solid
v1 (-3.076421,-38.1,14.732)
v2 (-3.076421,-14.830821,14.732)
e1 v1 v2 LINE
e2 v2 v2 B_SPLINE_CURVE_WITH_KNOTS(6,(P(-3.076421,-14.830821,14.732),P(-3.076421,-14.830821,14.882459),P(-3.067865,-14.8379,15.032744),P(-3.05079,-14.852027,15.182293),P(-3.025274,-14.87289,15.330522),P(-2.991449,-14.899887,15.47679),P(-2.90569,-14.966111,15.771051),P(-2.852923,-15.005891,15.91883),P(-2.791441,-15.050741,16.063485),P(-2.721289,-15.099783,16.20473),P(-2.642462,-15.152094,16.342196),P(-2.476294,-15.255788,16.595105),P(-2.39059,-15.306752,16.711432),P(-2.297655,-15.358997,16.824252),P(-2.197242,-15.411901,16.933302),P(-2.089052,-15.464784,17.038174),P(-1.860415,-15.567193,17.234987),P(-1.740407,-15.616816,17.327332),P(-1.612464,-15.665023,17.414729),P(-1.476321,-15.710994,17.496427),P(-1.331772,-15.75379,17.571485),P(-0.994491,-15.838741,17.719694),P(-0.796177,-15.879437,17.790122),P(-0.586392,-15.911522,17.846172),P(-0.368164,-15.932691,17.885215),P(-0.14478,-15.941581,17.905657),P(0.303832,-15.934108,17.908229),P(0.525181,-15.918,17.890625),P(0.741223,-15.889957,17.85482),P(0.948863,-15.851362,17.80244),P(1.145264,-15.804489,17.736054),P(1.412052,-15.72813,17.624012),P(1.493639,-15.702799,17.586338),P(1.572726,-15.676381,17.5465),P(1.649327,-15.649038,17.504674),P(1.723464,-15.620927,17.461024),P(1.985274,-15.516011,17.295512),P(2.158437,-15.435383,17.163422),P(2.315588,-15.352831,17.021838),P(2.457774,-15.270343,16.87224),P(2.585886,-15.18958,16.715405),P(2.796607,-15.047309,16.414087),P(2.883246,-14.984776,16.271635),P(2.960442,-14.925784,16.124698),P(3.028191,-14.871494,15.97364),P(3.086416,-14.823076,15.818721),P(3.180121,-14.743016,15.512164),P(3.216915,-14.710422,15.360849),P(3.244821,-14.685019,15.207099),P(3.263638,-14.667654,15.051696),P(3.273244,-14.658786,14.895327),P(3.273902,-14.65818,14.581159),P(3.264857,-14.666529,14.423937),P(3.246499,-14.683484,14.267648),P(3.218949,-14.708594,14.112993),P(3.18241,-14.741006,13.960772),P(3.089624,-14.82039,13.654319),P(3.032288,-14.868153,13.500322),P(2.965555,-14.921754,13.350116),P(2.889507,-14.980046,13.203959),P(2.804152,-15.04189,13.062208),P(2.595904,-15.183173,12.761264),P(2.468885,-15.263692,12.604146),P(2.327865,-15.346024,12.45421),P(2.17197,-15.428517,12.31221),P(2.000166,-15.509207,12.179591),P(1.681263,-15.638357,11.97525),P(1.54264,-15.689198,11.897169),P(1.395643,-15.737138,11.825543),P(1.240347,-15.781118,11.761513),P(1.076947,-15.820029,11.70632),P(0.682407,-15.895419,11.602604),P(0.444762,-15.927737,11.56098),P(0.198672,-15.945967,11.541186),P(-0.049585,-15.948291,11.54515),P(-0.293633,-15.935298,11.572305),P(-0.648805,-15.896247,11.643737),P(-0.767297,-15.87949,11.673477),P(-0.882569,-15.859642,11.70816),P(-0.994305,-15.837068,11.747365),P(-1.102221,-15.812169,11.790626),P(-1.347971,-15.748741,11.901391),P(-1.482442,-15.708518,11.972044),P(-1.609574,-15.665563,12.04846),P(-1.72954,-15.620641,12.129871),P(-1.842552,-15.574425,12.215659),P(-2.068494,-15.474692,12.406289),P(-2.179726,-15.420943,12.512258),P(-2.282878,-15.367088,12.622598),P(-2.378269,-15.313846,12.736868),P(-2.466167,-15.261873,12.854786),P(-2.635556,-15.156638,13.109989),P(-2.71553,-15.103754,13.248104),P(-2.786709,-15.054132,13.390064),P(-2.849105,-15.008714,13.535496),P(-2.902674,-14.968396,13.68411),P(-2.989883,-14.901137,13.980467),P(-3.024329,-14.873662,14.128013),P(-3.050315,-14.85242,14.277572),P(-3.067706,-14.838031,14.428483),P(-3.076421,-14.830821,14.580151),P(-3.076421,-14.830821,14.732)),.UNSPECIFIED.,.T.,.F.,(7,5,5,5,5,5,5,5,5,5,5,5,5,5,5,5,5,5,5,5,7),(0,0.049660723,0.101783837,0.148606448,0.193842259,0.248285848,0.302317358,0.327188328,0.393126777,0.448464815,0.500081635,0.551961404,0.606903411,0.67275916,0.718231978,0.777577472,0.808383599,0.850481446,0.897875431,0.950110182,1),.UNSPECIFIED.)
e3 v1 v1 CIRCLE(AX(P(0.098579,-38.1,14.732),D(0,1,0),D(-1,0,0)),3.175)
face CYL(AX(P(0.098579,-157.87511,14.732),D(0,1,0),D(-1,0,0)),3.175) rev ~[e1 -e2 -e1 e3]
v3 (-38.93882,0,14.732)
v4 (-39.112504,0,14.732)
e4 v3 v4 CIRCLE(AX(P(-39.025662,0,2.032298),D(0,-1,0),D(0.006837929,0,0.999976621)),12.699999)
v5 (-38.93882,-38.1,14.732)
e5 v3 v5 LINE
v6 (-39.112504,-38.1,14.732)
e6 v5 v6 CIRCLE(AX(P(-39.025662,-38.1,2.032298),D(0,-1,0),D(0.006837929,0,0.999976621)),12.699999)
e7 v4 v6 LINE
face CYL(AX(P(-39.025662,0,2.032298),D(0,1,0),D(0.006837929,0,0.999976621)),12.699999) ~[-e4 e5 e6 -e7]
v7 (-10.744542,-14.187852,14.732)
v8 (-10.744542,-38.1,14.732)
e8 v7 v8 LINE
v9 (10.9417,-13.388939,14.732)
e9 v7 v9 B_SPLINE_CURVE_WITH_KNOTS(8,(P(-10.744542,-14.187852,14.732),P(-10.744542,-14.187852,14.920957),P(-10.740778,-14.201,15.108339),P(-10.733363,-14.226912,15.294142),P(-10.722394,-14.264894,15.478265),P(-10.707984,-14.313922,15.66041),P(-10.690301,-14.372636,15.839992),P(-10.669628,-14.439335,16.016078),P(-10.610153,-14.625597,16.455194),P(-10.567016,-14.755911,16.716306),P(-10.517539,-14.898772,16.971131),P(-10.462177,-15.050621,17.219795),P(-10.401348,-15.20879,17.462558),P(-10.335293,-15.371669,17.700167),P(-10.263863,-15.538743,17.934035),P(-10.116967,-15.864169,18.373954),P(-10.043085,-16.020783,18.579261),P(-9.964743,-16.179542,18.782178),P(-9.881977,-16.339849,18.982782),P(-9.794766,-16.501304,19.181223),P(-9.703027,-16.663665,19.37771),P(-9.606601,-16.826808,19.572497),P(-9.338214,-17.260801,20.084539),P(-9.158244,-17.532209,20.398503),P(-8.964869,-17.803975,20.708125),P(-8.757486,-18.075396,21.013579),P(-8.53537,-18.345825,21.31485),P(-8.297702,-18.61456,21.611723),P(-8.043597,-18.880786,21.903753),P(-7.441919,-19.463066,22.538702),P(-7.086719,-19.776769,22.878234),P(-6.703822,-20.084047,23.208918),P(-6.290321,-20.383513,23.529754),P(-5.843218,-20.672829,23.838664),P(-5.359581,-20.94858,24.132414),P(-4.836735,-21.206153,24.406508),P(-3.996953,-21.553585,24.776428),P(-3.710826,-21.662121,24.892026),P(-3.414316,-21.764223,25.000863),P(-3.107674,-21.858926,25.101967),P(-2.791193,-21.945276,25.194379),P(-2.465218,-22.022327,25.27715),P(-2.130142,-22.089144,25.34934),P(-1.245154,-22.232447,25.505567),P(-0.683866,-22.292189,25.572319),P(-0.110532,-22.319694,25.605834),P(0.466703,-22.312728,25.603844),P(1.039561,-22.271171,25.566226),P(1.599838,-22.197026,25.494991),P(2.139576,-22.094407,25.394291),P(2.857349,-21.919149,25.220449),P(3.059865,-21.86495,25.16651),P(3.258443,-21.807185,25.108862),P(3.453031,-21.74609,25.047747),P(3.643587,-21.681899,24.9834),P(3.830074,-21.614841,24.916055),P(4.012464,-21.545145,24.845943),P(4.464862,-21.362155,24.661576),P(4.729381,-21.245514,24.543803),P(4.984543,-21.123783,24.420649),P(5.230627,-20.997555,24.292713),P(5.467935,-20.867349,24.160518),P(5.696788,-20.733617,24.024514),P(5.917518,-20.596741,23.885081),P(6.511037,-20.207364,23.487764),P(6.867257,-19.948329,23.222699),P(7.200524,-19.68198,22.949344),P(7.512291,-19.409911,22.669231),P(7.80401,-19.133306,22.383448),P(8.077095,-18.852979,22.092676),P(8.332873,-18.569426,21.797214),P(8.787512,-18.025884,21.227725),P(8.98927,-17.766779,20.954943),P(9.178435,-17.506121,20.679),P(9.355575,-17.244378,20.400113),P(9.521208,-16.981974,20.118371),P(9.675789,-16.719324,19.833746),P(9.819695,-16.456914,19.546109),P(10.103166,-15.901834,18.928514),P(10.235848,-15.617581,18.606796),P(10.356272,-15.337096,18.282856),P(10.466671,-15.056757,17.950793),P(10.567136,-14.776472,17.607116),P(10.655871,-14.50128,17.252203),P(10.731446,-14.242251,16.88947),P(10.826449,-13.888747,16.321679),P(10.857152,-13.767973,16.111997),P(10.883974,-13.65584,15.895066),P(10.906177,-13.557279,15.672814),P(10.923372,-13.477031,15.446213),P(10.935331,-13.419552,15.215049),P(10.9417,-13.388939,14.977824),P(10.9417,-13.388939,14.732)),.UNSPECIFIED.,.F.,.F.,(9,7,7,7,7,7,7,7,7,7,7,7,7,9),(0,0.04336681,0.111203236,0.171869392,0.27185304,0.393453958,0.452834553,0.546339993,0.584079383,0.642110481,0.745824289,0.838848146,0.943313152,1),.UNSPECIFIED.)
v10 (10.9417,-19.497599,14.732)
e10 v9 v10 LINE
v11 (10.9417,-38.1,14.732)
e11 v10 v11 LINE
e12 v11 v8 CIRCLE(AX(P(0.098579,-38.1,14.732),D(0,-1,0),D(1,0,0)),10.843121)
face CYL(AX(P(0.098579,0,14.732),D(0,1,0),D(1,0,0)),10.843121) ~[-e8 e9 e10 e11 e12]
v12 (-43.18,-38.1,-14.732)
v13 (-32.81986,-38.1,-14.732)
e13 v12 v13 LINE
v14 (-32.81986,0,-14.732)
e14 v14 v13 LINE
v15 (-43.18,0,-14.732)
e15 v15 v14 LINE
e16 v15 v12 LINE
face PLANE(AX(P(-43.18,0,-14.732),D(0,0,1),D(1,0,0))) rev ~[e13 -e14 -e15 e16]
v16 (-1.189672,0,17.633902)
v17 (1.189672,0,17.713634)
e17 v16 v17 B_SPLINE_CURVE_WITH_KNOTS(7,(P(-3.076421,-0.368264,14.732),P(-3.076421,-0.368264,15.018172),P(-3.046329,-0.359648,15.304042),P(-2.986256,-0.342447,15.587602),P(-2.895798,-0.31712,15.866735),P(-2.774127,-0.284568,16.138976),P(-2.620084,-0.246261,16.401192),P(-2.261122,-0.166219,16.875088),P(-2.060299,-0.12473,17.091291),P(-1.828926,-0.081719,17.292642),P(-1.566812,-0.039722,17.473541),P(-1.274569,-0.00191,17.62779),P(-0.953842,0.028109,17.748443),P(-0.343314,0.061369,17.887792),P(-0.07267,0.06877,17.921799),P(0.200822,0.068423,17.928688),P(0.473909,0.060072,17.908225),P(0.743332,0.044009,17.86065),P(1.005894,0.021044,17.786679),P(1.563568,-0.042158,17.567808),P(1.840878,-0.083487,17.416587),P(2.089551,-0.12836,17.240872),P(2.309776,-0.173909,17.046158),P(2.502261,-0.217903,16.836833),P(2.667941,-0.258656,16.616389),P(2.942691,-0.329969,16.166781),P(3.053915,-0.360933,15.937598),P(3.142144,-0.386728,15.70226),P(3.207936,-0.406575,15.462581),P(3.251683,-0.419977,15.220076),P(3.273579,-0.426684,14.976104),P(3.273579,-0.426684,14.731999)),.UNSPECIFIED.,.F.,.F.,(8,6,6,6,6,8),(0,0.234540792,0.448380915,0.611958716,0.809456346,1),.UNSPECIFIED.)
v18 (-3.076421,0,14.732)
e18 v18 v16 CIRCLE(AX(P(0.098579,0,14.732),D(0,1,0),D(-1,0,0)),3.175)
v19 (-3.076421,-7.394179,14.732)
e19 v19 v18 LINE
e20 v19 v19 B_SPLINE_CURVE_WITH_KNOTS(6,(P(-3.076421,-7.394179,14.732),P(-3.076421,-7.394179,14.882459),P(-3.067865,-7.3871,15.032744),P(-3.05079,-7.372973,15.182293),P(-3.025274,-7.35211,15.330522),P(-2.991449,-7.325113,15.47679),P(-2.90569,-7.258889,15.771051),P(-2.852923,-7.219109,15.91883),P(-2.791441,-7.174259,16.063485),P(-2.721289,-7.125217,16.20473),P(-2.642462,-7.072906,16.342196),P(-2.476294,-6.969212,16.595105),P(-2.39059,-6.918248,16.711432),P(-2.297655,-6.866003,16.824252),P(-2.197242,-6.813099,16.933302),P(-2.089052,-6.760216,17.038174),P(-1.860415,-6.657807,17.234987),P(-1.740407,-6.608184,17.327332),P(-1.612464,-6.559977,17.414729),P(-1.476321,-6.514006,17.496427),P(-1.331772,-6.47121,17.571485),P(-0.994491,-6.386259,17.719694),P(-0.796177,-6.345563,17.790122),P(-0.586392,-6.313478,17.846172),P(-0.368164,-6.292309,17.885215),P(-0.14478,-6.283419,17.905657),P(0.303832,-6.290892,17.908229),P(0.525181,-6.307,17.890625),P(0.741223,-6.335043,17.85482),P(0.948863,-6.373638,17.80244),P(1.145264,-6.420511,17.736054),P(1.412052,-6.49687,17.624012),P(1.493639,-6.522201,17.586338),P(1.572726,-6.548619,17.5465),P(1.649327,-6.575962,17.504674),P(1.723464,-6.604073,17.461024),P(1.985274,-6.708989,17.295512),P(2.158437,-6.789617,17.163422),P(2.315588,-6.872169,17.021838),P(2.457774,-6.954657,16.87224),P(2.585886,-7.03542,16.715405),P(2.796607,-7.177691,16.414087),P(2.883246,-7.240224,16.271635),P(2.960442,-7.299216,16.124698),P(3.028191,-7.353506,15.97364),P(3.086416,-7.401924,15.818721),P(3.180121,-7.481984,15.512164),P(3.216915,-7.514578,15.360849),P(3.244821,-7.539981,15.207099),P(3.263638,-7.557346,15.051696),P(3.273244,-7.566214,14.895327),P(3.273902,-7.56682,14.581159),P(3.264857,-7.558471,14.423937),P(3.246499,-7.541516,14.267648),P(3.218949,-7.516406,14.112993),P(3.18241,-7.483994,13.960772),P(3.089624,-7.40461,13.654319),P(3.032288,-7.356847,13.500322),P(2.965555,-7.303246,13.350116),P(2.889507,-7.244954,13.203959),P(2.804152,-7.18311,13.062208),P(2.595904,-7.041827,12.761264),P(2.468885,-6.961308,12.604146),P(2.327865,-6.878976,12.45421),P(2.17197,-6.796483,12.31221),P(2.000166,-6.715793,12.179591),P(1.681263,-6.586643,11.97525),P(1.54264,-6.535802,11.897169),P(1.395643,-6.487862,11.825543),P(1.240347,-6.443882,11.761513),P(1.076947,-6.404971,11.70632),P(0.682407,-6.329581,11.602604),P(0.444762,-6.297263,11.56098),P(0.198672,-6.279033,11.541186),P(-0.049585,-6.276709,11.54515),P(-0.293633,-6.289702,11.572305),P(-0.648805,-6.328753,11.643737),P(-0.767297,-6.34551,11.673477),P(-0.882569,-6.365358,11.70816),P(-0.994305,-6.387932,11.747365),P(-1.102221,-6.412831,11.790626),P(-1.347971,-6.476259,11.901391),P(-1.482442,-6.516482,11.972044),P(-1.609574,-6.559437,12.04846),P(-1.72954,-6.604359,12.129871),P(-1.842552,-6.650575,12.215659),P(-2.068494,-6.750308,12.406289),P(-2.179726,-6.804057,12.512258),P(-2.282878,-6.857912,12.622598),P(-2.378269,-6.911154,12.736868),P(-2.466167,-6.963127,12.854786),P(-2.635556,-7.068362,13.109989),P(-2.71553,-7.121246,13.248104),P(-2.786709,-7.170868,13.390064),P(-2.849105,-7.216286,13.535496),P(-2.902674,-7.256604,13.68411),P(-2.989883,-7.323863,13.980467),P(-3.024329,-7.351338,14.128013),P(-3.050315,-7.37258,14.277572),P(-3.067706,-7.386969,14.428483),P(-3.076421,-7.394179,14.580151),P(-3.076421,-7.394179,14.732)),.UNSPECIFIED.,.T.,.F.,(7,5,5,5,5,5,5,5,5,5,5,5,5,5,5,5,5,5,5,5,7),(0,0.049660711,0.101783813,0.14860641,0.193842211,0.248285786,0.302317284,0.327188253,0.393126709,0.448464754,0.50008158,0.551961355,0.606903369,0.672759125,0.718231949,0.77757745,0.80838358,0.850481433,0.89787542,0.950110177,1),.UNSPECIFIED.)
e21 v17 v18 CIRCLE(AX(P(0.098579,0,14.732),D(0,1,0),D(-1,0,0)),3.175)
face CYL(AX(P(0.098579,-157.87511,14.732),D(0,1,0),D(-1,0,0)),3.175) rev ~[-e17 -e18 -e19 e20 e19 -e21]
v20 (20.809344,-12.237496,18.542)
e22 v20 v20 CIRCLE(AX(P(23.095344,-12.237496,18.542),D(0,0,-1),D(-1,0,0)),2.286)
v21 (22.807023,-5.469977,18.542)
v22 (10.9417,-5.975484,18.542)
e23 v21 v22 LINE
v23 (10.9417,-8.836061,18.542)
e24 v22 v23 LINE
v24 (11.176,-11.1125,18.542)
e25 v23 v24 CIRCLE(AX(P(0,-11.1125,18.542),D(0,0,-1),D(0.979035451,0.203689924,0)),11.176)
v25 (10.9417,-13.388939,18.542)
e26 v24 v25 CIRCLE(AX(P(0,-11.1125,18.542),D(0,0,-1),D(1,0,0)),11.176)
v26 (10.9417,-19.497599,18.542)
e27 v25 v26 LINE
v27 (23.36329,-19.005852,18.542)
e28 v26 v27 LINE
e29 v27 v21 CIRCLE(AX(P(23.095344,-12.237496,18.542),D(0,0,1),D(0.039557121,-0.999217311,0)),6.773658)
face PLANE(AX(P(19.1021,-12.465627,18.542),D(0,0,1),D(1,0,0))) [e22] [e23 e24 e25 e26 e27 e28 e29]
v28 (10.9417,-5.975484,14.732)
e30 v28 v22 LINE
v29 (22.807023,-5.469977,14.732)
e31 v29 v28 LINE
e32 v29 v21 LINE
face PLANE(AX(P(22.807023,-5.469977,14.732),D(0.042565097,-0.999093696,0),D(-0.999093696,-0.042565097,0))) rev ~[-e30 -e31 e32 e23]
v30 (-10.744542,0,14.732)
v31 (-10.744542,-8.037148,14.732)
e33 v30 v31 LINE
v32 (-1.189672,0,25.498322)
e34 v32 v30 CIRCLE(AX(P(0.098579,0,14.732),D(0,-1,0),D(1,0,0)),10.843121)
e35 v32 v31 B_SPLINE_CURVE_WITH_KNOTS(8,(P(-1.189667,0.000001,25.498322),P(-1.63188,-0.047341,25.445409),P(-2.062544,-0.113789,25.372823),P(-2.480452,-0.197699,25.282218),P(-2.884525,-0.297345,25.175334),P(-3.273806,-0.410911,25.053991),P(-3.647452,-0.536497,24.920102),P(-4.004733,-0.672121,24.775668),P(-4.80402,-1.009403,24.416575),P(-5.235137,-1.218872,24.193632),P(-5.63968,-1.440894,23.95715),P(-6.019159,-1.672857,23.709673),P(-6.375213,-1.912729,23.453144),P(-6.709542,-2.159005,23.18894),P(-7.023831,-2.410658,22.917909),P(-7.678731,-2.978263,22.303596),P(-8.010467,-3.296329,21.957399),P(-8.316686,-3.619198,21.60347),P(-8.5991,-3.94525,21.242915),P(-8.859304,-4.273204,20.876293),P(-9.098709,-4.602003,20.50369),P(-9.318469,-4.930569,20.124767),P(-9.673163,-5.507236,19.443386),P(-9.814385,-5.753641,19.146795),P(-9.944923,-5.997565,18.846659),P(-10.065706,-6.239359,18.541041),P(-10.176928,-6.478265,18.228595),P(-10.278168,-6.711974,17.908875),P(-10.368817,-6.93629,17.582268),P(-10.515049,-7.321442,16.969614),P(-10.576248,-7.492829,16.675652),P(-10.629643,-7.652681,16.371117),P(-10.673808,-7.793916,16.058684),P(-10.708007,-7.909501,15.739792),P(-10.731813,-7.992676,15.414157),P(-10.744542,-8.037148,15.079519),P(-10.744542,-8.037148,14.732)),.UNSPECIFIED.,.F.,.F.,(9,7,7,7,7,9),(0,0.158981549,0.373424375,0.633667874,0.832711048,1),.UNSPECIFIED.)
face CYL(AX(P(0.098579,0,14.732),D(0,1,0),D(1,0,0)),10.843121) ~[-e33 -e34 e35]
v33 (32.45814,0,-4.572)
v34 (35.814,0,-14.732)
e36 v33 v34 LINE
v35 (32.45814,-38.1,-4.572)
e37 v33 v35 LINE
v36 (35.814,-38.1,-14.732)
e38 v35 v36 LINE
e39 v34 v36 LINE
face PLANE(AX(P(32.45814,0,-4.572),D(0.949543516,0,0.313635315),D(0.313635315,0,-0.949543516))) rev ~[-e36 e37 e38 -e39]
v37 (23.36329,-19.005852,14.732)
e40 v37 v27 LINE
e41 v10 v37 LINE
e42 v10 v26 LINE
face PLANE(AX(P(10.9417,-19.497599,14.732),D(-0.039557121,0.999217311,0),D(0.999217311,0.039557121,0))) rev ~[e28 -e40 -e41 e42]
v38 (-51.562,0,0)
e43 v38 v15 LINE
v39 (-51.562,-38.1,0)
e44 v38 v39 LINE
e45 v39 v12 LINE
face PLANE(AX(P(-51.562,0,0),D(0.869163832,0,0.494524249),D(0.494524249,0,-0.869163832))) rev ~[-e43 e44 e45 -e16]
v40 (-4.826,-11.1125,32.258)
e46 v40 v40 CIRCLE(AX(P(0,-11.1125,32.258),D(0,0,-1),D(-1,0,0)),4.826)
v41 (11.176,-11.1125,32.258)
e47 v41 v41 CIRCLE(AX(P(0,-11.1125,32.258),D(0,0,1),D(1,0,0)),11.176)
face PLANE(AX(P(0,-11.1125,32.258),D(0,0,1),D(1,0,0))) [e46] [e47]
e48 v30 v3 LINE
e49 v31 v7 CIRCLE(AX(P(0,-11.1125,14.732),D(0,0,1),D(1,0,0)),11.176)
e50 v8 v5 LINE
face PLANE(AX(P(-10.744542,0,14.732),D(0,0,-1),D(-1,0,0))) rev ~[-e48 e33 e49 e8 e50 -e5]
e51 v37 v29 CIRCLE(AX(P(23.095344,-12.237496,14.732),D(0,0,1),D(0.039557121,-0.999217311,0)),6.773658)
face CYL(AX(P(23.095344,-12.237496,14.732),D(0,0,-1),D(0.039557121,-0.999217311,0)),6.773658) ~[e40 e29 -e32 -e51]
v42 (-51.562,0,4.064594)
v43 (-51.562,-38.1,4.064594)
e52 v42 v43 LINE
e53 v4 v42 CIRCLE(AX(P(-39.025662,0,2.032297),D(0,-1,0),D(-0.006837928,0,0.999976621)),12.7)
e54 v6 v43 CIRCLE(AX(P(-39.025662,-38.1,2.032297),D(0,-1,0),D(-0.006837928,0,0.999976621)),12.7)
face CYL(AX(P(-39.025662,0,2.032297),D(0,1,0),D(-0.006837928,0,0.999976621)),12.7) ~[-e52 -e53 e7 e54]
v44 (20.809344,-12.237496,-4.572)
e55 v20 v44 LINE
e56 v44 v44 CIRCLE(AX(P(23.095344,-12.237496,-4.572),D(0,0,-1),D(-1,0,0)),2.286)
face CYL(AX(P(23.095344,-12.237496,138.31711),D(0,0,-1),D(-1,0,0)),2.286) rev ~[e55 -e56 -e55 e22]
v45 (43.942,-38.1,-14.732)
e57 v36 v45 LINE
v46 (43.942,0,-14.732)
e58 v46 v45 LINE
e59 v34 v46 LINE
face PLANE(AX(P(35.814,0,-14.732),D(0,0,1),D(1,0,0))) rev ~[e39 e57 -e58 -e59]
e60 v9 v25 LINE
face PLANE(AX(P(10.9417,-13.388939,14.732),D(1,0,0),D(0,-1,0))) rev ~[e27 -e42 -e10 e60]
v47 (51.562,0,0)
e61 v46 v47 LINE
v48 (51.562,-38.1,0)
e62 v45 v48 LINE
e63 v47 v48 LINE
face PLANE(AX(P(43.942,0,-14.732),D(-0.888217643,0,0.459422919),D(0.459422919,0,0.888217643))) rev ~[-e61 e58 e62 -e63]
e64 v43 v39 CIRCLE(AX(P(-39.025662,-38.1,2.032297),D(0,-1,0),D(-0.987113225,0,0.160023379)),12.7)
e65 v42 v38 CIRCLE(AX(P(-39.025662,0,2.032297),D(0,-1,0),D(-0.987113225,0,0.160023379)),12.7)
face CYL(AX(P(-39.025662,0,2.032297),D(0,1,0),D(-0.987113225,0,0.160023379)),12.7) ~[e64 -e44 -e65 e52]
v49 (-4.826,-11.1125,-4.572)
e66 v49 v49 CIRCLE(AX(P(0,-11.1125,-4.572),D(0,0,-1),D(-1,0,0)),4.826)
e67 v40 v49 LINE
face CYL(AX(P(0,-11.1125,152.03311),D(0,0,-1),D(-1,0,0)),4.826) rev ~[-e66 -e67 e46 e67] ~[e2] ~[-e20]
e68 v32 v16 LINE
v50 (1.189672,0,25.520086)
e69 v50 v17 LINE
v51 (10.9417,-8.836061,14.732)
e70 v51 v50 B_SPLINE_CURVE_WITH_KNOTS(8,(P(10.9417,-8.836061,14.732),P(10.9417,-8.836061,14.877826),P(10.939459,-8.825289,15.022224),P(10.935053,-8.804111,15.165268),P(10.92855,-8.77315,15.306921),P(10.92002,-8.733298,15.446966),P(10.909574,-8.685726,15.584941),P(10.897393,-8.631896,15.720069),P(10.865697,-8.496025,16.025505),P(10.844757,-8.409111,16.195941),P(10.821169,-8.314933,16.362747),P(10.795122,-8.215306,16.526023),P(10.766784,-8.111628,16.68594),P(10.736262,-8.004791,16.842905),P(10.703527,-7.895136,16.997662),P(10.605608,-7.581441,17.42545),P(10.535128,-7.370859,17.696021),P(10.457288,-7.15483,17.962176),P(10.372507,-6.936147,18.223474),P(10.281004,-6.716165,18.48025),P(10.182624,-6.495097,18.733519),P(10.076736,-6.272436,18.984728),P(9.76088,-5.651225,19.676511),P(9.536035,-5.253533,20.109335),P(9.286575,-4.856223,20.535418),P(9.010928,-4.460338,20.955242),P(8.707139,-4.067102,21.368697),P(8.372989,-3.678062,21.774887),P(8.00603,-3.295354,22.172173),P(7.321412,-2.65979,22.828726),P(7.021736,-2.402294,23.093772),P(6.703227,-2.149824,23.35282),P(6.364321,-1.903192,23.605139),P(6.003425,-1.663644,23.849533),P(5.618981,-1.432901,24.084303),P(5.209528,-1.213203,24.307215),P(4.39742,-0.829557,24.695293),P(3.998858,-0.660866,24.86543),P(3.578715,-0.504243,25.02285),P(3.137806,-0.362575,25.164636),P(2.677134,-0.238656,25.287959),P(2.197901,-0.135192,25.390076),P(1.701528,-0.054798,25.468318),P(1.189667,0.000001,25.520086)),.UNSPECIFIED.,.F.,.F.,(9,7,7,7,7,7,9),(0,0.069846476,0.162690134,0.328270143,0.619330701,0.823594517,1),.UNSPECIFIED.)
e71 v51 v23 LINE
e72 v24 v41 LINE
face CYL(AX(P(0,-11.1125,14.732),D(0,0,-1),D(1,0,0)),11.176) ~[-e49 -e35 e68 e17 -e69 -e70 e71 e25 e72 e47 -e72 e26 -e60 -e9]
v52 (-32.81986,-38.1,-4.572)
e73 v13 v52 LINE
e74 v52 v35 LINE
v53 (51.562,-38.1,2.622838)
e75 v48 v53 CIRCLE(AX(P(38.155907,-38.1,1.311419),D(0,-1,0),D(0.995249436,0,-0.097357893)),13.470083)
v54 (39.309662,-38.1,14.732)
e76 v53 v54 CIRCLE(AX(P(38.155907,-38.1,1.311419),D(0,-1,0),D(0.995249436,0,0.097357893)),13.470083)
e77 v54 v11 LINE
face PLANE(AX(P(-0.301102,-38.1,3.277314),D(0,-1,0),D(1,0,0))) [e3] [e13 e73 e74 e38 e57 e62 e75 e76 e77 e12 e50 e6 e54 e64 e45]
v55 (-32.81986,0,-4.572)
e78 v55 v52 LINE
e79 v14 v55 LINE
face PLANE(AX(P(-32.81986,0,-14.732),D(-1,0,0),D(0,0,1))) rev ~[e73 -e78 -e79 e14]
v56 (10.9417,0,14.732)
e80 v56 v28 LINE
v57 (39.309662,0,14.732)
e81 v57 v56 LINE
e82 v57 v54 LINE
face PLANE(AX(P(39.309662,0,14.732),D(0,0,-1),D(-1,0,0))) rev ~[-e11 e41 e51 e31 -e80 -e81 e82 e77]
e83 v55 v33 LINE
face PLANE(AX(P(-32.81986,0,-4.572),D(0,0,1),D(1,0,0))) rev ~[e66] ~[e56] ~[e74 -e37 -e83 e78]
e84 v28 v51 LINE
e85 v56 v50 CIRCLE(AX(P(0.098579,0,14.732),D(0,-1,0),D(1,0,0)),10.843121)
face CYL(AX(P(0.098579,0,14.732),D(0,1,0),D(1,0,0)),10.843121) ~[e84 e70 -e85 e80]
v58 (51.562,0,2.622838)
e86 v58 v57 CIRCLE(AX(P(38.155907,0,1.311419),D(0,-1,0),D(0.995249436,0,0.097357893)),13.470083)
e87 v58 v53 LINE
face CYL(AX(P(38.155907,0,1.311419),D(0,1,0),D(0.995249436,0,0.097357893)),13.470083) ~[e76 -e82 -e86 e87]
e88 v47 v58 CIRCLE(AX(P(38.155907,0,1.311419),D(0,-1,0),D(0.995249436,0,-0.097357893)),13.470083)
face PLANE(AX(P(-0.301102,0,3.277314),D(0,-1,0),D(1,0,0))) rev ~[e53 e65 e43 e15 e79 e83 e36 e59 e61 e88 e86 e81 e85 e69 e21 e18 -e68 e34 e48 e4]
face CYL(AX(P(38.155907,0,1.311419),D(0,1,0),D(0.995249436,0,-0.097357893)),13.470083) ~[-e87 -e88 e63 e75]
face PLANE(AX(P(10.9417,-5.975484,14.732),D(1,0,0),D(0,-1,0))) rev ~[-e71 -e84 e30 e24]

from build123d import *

# Parameters (mm, degrees)
F1_DEPTH = 38.1
F2_R     = 11.176
F3_DEPTH = 17.526
F5_D     = 9.652
F7_DEPTH = 3.81
F9_D     = 4.572
F11_D    = 6.35


with BuildPart() as f1:
    # F0 (on Front) → F1 (new body)
    with BuildSketch(Plane.XZ):
        with BuildLine():
            Line((-51.562, 0), (-43.18, -14.732))
            Line((-43.18, -14.732), (-32.8198596835, -14.732))
            Line((-32.8198596835, -14.732), (-32.8198596835, -4.572))
            Line((-32.8198596835, -4.572), (32.4581403165, -4.572))
            Line((32.4581403165, -4.572), (35.814, -14.732))
            Line((35.814, -14.732), (43.942, -14.732))
            Line((43.942, -14.732), (51.562, 0))
            Line((51.562, 0), (51.562, 2.6228378818))
            ThreePointArc((51.562, 2.6228378818), (47.6245523403, 10.89201932), (39.3096618354, 14.732))
            Line((39.3096618354, 14.732), (10.9417002025, 14.732))
            ThreePointArc((10.9417002025, 14.732), (0.0985790513, 25.5751211511), (-10.7445420998, 14.732))
            Line((-10.7445420998, 14.732), (-38.9388203621, 14.732))
            Line((-38.9388203621, 14.732), (-39.1125037328, 14.732))
            ThreePointArc((-39.1125037328, 14.732), (-47.2891089477, 11.676229996), (-51.562, 4.0645938241))
            Line((-51.562, 4.0645938241), (-51.562, 0))
        make_face()
        with BuildLine():
            ThreePointArc((-51.562, 4.0645938241), (-51.7256620474, 2.0322969121), (-51.562, 0))
            Line((-51.562, 0), (-51.562, 4.0645938241))
        make_face()
        with BuildLine():
            ThreePointArc((-38.9388203621, 14.732), (-39.0256620474, 14.7322969121), (-39.1125037328, 14.732))
            Line((-39.1125037328, 14.732), (-38.9388203621, 14.732))
        make_face()
        with BuildLine():
            Line((51.562, 2.6228378818), (51.562, 0))
            ThreePointArc((51.562, 0), (51.6259904882, 1.3114189409), (51.562, 2.6228378818))
        make_face()
    extrude(amount=F1_DEPTH)

    # F2 (on face) → F3 (join)
    with BuildSketch(Plane.XY.offset(14.732)):
        with Locations((0, -11.1125)):
            Circle(F2_R)
    extrude(amount=F3_DEPTH)

    # F5 (through all)
    with Locations(Plane.XY.offset(32.258)):
        with Locations((0, -11.1125)):
            Hole(F5_D / 2)

    # F6 (on face) → F7 (join)
    with BuildSketch(Plane.XY.offset(14.732)):
        with BuildLine():
            Line((10.9417002025, -19.4975990474), (23.3632903546, -19.0058518201))
            ThreePointArc((23.3632903546, -19.0058518201), (29.8632890709, -11.9593614946), (22.8070225567, -5.4699769244))
            Line((22.8070225567, -5.4699769244), (10.9417002025, -5.9754836616))
            Line((10.9417002025, -5.9754836616), (10.9417002025, -8.8360614044))
            ThreePointArc((10.9417002025, -8.8360614044), (11.1172707411, -9.9682678257), (11.176, -11.1125))
            ThreePointArc((11.176, -11.1125), (11.1172707411, -12.2567321743), (10.9417002025, -13.3889385956))
            Line((10.9417002025, -13.3889385956), (10.9417002025, -19.4975990474))
        make_face()
    extrude(amount=F7_DEPTH)

    # F9 (through all)
    with Locations(Plane.XY.offset(18.542)):
        with Locations((23.0953439556, -12.2374957086)):
            Hole(F9_D / 2)

    # F11 (through all)
    with Locations(Plane.XZ.offset(38.1)):
        with Locations((0.0985790513, 14.732)):
            Hole(F11_D / 2)


solid = f1.part
